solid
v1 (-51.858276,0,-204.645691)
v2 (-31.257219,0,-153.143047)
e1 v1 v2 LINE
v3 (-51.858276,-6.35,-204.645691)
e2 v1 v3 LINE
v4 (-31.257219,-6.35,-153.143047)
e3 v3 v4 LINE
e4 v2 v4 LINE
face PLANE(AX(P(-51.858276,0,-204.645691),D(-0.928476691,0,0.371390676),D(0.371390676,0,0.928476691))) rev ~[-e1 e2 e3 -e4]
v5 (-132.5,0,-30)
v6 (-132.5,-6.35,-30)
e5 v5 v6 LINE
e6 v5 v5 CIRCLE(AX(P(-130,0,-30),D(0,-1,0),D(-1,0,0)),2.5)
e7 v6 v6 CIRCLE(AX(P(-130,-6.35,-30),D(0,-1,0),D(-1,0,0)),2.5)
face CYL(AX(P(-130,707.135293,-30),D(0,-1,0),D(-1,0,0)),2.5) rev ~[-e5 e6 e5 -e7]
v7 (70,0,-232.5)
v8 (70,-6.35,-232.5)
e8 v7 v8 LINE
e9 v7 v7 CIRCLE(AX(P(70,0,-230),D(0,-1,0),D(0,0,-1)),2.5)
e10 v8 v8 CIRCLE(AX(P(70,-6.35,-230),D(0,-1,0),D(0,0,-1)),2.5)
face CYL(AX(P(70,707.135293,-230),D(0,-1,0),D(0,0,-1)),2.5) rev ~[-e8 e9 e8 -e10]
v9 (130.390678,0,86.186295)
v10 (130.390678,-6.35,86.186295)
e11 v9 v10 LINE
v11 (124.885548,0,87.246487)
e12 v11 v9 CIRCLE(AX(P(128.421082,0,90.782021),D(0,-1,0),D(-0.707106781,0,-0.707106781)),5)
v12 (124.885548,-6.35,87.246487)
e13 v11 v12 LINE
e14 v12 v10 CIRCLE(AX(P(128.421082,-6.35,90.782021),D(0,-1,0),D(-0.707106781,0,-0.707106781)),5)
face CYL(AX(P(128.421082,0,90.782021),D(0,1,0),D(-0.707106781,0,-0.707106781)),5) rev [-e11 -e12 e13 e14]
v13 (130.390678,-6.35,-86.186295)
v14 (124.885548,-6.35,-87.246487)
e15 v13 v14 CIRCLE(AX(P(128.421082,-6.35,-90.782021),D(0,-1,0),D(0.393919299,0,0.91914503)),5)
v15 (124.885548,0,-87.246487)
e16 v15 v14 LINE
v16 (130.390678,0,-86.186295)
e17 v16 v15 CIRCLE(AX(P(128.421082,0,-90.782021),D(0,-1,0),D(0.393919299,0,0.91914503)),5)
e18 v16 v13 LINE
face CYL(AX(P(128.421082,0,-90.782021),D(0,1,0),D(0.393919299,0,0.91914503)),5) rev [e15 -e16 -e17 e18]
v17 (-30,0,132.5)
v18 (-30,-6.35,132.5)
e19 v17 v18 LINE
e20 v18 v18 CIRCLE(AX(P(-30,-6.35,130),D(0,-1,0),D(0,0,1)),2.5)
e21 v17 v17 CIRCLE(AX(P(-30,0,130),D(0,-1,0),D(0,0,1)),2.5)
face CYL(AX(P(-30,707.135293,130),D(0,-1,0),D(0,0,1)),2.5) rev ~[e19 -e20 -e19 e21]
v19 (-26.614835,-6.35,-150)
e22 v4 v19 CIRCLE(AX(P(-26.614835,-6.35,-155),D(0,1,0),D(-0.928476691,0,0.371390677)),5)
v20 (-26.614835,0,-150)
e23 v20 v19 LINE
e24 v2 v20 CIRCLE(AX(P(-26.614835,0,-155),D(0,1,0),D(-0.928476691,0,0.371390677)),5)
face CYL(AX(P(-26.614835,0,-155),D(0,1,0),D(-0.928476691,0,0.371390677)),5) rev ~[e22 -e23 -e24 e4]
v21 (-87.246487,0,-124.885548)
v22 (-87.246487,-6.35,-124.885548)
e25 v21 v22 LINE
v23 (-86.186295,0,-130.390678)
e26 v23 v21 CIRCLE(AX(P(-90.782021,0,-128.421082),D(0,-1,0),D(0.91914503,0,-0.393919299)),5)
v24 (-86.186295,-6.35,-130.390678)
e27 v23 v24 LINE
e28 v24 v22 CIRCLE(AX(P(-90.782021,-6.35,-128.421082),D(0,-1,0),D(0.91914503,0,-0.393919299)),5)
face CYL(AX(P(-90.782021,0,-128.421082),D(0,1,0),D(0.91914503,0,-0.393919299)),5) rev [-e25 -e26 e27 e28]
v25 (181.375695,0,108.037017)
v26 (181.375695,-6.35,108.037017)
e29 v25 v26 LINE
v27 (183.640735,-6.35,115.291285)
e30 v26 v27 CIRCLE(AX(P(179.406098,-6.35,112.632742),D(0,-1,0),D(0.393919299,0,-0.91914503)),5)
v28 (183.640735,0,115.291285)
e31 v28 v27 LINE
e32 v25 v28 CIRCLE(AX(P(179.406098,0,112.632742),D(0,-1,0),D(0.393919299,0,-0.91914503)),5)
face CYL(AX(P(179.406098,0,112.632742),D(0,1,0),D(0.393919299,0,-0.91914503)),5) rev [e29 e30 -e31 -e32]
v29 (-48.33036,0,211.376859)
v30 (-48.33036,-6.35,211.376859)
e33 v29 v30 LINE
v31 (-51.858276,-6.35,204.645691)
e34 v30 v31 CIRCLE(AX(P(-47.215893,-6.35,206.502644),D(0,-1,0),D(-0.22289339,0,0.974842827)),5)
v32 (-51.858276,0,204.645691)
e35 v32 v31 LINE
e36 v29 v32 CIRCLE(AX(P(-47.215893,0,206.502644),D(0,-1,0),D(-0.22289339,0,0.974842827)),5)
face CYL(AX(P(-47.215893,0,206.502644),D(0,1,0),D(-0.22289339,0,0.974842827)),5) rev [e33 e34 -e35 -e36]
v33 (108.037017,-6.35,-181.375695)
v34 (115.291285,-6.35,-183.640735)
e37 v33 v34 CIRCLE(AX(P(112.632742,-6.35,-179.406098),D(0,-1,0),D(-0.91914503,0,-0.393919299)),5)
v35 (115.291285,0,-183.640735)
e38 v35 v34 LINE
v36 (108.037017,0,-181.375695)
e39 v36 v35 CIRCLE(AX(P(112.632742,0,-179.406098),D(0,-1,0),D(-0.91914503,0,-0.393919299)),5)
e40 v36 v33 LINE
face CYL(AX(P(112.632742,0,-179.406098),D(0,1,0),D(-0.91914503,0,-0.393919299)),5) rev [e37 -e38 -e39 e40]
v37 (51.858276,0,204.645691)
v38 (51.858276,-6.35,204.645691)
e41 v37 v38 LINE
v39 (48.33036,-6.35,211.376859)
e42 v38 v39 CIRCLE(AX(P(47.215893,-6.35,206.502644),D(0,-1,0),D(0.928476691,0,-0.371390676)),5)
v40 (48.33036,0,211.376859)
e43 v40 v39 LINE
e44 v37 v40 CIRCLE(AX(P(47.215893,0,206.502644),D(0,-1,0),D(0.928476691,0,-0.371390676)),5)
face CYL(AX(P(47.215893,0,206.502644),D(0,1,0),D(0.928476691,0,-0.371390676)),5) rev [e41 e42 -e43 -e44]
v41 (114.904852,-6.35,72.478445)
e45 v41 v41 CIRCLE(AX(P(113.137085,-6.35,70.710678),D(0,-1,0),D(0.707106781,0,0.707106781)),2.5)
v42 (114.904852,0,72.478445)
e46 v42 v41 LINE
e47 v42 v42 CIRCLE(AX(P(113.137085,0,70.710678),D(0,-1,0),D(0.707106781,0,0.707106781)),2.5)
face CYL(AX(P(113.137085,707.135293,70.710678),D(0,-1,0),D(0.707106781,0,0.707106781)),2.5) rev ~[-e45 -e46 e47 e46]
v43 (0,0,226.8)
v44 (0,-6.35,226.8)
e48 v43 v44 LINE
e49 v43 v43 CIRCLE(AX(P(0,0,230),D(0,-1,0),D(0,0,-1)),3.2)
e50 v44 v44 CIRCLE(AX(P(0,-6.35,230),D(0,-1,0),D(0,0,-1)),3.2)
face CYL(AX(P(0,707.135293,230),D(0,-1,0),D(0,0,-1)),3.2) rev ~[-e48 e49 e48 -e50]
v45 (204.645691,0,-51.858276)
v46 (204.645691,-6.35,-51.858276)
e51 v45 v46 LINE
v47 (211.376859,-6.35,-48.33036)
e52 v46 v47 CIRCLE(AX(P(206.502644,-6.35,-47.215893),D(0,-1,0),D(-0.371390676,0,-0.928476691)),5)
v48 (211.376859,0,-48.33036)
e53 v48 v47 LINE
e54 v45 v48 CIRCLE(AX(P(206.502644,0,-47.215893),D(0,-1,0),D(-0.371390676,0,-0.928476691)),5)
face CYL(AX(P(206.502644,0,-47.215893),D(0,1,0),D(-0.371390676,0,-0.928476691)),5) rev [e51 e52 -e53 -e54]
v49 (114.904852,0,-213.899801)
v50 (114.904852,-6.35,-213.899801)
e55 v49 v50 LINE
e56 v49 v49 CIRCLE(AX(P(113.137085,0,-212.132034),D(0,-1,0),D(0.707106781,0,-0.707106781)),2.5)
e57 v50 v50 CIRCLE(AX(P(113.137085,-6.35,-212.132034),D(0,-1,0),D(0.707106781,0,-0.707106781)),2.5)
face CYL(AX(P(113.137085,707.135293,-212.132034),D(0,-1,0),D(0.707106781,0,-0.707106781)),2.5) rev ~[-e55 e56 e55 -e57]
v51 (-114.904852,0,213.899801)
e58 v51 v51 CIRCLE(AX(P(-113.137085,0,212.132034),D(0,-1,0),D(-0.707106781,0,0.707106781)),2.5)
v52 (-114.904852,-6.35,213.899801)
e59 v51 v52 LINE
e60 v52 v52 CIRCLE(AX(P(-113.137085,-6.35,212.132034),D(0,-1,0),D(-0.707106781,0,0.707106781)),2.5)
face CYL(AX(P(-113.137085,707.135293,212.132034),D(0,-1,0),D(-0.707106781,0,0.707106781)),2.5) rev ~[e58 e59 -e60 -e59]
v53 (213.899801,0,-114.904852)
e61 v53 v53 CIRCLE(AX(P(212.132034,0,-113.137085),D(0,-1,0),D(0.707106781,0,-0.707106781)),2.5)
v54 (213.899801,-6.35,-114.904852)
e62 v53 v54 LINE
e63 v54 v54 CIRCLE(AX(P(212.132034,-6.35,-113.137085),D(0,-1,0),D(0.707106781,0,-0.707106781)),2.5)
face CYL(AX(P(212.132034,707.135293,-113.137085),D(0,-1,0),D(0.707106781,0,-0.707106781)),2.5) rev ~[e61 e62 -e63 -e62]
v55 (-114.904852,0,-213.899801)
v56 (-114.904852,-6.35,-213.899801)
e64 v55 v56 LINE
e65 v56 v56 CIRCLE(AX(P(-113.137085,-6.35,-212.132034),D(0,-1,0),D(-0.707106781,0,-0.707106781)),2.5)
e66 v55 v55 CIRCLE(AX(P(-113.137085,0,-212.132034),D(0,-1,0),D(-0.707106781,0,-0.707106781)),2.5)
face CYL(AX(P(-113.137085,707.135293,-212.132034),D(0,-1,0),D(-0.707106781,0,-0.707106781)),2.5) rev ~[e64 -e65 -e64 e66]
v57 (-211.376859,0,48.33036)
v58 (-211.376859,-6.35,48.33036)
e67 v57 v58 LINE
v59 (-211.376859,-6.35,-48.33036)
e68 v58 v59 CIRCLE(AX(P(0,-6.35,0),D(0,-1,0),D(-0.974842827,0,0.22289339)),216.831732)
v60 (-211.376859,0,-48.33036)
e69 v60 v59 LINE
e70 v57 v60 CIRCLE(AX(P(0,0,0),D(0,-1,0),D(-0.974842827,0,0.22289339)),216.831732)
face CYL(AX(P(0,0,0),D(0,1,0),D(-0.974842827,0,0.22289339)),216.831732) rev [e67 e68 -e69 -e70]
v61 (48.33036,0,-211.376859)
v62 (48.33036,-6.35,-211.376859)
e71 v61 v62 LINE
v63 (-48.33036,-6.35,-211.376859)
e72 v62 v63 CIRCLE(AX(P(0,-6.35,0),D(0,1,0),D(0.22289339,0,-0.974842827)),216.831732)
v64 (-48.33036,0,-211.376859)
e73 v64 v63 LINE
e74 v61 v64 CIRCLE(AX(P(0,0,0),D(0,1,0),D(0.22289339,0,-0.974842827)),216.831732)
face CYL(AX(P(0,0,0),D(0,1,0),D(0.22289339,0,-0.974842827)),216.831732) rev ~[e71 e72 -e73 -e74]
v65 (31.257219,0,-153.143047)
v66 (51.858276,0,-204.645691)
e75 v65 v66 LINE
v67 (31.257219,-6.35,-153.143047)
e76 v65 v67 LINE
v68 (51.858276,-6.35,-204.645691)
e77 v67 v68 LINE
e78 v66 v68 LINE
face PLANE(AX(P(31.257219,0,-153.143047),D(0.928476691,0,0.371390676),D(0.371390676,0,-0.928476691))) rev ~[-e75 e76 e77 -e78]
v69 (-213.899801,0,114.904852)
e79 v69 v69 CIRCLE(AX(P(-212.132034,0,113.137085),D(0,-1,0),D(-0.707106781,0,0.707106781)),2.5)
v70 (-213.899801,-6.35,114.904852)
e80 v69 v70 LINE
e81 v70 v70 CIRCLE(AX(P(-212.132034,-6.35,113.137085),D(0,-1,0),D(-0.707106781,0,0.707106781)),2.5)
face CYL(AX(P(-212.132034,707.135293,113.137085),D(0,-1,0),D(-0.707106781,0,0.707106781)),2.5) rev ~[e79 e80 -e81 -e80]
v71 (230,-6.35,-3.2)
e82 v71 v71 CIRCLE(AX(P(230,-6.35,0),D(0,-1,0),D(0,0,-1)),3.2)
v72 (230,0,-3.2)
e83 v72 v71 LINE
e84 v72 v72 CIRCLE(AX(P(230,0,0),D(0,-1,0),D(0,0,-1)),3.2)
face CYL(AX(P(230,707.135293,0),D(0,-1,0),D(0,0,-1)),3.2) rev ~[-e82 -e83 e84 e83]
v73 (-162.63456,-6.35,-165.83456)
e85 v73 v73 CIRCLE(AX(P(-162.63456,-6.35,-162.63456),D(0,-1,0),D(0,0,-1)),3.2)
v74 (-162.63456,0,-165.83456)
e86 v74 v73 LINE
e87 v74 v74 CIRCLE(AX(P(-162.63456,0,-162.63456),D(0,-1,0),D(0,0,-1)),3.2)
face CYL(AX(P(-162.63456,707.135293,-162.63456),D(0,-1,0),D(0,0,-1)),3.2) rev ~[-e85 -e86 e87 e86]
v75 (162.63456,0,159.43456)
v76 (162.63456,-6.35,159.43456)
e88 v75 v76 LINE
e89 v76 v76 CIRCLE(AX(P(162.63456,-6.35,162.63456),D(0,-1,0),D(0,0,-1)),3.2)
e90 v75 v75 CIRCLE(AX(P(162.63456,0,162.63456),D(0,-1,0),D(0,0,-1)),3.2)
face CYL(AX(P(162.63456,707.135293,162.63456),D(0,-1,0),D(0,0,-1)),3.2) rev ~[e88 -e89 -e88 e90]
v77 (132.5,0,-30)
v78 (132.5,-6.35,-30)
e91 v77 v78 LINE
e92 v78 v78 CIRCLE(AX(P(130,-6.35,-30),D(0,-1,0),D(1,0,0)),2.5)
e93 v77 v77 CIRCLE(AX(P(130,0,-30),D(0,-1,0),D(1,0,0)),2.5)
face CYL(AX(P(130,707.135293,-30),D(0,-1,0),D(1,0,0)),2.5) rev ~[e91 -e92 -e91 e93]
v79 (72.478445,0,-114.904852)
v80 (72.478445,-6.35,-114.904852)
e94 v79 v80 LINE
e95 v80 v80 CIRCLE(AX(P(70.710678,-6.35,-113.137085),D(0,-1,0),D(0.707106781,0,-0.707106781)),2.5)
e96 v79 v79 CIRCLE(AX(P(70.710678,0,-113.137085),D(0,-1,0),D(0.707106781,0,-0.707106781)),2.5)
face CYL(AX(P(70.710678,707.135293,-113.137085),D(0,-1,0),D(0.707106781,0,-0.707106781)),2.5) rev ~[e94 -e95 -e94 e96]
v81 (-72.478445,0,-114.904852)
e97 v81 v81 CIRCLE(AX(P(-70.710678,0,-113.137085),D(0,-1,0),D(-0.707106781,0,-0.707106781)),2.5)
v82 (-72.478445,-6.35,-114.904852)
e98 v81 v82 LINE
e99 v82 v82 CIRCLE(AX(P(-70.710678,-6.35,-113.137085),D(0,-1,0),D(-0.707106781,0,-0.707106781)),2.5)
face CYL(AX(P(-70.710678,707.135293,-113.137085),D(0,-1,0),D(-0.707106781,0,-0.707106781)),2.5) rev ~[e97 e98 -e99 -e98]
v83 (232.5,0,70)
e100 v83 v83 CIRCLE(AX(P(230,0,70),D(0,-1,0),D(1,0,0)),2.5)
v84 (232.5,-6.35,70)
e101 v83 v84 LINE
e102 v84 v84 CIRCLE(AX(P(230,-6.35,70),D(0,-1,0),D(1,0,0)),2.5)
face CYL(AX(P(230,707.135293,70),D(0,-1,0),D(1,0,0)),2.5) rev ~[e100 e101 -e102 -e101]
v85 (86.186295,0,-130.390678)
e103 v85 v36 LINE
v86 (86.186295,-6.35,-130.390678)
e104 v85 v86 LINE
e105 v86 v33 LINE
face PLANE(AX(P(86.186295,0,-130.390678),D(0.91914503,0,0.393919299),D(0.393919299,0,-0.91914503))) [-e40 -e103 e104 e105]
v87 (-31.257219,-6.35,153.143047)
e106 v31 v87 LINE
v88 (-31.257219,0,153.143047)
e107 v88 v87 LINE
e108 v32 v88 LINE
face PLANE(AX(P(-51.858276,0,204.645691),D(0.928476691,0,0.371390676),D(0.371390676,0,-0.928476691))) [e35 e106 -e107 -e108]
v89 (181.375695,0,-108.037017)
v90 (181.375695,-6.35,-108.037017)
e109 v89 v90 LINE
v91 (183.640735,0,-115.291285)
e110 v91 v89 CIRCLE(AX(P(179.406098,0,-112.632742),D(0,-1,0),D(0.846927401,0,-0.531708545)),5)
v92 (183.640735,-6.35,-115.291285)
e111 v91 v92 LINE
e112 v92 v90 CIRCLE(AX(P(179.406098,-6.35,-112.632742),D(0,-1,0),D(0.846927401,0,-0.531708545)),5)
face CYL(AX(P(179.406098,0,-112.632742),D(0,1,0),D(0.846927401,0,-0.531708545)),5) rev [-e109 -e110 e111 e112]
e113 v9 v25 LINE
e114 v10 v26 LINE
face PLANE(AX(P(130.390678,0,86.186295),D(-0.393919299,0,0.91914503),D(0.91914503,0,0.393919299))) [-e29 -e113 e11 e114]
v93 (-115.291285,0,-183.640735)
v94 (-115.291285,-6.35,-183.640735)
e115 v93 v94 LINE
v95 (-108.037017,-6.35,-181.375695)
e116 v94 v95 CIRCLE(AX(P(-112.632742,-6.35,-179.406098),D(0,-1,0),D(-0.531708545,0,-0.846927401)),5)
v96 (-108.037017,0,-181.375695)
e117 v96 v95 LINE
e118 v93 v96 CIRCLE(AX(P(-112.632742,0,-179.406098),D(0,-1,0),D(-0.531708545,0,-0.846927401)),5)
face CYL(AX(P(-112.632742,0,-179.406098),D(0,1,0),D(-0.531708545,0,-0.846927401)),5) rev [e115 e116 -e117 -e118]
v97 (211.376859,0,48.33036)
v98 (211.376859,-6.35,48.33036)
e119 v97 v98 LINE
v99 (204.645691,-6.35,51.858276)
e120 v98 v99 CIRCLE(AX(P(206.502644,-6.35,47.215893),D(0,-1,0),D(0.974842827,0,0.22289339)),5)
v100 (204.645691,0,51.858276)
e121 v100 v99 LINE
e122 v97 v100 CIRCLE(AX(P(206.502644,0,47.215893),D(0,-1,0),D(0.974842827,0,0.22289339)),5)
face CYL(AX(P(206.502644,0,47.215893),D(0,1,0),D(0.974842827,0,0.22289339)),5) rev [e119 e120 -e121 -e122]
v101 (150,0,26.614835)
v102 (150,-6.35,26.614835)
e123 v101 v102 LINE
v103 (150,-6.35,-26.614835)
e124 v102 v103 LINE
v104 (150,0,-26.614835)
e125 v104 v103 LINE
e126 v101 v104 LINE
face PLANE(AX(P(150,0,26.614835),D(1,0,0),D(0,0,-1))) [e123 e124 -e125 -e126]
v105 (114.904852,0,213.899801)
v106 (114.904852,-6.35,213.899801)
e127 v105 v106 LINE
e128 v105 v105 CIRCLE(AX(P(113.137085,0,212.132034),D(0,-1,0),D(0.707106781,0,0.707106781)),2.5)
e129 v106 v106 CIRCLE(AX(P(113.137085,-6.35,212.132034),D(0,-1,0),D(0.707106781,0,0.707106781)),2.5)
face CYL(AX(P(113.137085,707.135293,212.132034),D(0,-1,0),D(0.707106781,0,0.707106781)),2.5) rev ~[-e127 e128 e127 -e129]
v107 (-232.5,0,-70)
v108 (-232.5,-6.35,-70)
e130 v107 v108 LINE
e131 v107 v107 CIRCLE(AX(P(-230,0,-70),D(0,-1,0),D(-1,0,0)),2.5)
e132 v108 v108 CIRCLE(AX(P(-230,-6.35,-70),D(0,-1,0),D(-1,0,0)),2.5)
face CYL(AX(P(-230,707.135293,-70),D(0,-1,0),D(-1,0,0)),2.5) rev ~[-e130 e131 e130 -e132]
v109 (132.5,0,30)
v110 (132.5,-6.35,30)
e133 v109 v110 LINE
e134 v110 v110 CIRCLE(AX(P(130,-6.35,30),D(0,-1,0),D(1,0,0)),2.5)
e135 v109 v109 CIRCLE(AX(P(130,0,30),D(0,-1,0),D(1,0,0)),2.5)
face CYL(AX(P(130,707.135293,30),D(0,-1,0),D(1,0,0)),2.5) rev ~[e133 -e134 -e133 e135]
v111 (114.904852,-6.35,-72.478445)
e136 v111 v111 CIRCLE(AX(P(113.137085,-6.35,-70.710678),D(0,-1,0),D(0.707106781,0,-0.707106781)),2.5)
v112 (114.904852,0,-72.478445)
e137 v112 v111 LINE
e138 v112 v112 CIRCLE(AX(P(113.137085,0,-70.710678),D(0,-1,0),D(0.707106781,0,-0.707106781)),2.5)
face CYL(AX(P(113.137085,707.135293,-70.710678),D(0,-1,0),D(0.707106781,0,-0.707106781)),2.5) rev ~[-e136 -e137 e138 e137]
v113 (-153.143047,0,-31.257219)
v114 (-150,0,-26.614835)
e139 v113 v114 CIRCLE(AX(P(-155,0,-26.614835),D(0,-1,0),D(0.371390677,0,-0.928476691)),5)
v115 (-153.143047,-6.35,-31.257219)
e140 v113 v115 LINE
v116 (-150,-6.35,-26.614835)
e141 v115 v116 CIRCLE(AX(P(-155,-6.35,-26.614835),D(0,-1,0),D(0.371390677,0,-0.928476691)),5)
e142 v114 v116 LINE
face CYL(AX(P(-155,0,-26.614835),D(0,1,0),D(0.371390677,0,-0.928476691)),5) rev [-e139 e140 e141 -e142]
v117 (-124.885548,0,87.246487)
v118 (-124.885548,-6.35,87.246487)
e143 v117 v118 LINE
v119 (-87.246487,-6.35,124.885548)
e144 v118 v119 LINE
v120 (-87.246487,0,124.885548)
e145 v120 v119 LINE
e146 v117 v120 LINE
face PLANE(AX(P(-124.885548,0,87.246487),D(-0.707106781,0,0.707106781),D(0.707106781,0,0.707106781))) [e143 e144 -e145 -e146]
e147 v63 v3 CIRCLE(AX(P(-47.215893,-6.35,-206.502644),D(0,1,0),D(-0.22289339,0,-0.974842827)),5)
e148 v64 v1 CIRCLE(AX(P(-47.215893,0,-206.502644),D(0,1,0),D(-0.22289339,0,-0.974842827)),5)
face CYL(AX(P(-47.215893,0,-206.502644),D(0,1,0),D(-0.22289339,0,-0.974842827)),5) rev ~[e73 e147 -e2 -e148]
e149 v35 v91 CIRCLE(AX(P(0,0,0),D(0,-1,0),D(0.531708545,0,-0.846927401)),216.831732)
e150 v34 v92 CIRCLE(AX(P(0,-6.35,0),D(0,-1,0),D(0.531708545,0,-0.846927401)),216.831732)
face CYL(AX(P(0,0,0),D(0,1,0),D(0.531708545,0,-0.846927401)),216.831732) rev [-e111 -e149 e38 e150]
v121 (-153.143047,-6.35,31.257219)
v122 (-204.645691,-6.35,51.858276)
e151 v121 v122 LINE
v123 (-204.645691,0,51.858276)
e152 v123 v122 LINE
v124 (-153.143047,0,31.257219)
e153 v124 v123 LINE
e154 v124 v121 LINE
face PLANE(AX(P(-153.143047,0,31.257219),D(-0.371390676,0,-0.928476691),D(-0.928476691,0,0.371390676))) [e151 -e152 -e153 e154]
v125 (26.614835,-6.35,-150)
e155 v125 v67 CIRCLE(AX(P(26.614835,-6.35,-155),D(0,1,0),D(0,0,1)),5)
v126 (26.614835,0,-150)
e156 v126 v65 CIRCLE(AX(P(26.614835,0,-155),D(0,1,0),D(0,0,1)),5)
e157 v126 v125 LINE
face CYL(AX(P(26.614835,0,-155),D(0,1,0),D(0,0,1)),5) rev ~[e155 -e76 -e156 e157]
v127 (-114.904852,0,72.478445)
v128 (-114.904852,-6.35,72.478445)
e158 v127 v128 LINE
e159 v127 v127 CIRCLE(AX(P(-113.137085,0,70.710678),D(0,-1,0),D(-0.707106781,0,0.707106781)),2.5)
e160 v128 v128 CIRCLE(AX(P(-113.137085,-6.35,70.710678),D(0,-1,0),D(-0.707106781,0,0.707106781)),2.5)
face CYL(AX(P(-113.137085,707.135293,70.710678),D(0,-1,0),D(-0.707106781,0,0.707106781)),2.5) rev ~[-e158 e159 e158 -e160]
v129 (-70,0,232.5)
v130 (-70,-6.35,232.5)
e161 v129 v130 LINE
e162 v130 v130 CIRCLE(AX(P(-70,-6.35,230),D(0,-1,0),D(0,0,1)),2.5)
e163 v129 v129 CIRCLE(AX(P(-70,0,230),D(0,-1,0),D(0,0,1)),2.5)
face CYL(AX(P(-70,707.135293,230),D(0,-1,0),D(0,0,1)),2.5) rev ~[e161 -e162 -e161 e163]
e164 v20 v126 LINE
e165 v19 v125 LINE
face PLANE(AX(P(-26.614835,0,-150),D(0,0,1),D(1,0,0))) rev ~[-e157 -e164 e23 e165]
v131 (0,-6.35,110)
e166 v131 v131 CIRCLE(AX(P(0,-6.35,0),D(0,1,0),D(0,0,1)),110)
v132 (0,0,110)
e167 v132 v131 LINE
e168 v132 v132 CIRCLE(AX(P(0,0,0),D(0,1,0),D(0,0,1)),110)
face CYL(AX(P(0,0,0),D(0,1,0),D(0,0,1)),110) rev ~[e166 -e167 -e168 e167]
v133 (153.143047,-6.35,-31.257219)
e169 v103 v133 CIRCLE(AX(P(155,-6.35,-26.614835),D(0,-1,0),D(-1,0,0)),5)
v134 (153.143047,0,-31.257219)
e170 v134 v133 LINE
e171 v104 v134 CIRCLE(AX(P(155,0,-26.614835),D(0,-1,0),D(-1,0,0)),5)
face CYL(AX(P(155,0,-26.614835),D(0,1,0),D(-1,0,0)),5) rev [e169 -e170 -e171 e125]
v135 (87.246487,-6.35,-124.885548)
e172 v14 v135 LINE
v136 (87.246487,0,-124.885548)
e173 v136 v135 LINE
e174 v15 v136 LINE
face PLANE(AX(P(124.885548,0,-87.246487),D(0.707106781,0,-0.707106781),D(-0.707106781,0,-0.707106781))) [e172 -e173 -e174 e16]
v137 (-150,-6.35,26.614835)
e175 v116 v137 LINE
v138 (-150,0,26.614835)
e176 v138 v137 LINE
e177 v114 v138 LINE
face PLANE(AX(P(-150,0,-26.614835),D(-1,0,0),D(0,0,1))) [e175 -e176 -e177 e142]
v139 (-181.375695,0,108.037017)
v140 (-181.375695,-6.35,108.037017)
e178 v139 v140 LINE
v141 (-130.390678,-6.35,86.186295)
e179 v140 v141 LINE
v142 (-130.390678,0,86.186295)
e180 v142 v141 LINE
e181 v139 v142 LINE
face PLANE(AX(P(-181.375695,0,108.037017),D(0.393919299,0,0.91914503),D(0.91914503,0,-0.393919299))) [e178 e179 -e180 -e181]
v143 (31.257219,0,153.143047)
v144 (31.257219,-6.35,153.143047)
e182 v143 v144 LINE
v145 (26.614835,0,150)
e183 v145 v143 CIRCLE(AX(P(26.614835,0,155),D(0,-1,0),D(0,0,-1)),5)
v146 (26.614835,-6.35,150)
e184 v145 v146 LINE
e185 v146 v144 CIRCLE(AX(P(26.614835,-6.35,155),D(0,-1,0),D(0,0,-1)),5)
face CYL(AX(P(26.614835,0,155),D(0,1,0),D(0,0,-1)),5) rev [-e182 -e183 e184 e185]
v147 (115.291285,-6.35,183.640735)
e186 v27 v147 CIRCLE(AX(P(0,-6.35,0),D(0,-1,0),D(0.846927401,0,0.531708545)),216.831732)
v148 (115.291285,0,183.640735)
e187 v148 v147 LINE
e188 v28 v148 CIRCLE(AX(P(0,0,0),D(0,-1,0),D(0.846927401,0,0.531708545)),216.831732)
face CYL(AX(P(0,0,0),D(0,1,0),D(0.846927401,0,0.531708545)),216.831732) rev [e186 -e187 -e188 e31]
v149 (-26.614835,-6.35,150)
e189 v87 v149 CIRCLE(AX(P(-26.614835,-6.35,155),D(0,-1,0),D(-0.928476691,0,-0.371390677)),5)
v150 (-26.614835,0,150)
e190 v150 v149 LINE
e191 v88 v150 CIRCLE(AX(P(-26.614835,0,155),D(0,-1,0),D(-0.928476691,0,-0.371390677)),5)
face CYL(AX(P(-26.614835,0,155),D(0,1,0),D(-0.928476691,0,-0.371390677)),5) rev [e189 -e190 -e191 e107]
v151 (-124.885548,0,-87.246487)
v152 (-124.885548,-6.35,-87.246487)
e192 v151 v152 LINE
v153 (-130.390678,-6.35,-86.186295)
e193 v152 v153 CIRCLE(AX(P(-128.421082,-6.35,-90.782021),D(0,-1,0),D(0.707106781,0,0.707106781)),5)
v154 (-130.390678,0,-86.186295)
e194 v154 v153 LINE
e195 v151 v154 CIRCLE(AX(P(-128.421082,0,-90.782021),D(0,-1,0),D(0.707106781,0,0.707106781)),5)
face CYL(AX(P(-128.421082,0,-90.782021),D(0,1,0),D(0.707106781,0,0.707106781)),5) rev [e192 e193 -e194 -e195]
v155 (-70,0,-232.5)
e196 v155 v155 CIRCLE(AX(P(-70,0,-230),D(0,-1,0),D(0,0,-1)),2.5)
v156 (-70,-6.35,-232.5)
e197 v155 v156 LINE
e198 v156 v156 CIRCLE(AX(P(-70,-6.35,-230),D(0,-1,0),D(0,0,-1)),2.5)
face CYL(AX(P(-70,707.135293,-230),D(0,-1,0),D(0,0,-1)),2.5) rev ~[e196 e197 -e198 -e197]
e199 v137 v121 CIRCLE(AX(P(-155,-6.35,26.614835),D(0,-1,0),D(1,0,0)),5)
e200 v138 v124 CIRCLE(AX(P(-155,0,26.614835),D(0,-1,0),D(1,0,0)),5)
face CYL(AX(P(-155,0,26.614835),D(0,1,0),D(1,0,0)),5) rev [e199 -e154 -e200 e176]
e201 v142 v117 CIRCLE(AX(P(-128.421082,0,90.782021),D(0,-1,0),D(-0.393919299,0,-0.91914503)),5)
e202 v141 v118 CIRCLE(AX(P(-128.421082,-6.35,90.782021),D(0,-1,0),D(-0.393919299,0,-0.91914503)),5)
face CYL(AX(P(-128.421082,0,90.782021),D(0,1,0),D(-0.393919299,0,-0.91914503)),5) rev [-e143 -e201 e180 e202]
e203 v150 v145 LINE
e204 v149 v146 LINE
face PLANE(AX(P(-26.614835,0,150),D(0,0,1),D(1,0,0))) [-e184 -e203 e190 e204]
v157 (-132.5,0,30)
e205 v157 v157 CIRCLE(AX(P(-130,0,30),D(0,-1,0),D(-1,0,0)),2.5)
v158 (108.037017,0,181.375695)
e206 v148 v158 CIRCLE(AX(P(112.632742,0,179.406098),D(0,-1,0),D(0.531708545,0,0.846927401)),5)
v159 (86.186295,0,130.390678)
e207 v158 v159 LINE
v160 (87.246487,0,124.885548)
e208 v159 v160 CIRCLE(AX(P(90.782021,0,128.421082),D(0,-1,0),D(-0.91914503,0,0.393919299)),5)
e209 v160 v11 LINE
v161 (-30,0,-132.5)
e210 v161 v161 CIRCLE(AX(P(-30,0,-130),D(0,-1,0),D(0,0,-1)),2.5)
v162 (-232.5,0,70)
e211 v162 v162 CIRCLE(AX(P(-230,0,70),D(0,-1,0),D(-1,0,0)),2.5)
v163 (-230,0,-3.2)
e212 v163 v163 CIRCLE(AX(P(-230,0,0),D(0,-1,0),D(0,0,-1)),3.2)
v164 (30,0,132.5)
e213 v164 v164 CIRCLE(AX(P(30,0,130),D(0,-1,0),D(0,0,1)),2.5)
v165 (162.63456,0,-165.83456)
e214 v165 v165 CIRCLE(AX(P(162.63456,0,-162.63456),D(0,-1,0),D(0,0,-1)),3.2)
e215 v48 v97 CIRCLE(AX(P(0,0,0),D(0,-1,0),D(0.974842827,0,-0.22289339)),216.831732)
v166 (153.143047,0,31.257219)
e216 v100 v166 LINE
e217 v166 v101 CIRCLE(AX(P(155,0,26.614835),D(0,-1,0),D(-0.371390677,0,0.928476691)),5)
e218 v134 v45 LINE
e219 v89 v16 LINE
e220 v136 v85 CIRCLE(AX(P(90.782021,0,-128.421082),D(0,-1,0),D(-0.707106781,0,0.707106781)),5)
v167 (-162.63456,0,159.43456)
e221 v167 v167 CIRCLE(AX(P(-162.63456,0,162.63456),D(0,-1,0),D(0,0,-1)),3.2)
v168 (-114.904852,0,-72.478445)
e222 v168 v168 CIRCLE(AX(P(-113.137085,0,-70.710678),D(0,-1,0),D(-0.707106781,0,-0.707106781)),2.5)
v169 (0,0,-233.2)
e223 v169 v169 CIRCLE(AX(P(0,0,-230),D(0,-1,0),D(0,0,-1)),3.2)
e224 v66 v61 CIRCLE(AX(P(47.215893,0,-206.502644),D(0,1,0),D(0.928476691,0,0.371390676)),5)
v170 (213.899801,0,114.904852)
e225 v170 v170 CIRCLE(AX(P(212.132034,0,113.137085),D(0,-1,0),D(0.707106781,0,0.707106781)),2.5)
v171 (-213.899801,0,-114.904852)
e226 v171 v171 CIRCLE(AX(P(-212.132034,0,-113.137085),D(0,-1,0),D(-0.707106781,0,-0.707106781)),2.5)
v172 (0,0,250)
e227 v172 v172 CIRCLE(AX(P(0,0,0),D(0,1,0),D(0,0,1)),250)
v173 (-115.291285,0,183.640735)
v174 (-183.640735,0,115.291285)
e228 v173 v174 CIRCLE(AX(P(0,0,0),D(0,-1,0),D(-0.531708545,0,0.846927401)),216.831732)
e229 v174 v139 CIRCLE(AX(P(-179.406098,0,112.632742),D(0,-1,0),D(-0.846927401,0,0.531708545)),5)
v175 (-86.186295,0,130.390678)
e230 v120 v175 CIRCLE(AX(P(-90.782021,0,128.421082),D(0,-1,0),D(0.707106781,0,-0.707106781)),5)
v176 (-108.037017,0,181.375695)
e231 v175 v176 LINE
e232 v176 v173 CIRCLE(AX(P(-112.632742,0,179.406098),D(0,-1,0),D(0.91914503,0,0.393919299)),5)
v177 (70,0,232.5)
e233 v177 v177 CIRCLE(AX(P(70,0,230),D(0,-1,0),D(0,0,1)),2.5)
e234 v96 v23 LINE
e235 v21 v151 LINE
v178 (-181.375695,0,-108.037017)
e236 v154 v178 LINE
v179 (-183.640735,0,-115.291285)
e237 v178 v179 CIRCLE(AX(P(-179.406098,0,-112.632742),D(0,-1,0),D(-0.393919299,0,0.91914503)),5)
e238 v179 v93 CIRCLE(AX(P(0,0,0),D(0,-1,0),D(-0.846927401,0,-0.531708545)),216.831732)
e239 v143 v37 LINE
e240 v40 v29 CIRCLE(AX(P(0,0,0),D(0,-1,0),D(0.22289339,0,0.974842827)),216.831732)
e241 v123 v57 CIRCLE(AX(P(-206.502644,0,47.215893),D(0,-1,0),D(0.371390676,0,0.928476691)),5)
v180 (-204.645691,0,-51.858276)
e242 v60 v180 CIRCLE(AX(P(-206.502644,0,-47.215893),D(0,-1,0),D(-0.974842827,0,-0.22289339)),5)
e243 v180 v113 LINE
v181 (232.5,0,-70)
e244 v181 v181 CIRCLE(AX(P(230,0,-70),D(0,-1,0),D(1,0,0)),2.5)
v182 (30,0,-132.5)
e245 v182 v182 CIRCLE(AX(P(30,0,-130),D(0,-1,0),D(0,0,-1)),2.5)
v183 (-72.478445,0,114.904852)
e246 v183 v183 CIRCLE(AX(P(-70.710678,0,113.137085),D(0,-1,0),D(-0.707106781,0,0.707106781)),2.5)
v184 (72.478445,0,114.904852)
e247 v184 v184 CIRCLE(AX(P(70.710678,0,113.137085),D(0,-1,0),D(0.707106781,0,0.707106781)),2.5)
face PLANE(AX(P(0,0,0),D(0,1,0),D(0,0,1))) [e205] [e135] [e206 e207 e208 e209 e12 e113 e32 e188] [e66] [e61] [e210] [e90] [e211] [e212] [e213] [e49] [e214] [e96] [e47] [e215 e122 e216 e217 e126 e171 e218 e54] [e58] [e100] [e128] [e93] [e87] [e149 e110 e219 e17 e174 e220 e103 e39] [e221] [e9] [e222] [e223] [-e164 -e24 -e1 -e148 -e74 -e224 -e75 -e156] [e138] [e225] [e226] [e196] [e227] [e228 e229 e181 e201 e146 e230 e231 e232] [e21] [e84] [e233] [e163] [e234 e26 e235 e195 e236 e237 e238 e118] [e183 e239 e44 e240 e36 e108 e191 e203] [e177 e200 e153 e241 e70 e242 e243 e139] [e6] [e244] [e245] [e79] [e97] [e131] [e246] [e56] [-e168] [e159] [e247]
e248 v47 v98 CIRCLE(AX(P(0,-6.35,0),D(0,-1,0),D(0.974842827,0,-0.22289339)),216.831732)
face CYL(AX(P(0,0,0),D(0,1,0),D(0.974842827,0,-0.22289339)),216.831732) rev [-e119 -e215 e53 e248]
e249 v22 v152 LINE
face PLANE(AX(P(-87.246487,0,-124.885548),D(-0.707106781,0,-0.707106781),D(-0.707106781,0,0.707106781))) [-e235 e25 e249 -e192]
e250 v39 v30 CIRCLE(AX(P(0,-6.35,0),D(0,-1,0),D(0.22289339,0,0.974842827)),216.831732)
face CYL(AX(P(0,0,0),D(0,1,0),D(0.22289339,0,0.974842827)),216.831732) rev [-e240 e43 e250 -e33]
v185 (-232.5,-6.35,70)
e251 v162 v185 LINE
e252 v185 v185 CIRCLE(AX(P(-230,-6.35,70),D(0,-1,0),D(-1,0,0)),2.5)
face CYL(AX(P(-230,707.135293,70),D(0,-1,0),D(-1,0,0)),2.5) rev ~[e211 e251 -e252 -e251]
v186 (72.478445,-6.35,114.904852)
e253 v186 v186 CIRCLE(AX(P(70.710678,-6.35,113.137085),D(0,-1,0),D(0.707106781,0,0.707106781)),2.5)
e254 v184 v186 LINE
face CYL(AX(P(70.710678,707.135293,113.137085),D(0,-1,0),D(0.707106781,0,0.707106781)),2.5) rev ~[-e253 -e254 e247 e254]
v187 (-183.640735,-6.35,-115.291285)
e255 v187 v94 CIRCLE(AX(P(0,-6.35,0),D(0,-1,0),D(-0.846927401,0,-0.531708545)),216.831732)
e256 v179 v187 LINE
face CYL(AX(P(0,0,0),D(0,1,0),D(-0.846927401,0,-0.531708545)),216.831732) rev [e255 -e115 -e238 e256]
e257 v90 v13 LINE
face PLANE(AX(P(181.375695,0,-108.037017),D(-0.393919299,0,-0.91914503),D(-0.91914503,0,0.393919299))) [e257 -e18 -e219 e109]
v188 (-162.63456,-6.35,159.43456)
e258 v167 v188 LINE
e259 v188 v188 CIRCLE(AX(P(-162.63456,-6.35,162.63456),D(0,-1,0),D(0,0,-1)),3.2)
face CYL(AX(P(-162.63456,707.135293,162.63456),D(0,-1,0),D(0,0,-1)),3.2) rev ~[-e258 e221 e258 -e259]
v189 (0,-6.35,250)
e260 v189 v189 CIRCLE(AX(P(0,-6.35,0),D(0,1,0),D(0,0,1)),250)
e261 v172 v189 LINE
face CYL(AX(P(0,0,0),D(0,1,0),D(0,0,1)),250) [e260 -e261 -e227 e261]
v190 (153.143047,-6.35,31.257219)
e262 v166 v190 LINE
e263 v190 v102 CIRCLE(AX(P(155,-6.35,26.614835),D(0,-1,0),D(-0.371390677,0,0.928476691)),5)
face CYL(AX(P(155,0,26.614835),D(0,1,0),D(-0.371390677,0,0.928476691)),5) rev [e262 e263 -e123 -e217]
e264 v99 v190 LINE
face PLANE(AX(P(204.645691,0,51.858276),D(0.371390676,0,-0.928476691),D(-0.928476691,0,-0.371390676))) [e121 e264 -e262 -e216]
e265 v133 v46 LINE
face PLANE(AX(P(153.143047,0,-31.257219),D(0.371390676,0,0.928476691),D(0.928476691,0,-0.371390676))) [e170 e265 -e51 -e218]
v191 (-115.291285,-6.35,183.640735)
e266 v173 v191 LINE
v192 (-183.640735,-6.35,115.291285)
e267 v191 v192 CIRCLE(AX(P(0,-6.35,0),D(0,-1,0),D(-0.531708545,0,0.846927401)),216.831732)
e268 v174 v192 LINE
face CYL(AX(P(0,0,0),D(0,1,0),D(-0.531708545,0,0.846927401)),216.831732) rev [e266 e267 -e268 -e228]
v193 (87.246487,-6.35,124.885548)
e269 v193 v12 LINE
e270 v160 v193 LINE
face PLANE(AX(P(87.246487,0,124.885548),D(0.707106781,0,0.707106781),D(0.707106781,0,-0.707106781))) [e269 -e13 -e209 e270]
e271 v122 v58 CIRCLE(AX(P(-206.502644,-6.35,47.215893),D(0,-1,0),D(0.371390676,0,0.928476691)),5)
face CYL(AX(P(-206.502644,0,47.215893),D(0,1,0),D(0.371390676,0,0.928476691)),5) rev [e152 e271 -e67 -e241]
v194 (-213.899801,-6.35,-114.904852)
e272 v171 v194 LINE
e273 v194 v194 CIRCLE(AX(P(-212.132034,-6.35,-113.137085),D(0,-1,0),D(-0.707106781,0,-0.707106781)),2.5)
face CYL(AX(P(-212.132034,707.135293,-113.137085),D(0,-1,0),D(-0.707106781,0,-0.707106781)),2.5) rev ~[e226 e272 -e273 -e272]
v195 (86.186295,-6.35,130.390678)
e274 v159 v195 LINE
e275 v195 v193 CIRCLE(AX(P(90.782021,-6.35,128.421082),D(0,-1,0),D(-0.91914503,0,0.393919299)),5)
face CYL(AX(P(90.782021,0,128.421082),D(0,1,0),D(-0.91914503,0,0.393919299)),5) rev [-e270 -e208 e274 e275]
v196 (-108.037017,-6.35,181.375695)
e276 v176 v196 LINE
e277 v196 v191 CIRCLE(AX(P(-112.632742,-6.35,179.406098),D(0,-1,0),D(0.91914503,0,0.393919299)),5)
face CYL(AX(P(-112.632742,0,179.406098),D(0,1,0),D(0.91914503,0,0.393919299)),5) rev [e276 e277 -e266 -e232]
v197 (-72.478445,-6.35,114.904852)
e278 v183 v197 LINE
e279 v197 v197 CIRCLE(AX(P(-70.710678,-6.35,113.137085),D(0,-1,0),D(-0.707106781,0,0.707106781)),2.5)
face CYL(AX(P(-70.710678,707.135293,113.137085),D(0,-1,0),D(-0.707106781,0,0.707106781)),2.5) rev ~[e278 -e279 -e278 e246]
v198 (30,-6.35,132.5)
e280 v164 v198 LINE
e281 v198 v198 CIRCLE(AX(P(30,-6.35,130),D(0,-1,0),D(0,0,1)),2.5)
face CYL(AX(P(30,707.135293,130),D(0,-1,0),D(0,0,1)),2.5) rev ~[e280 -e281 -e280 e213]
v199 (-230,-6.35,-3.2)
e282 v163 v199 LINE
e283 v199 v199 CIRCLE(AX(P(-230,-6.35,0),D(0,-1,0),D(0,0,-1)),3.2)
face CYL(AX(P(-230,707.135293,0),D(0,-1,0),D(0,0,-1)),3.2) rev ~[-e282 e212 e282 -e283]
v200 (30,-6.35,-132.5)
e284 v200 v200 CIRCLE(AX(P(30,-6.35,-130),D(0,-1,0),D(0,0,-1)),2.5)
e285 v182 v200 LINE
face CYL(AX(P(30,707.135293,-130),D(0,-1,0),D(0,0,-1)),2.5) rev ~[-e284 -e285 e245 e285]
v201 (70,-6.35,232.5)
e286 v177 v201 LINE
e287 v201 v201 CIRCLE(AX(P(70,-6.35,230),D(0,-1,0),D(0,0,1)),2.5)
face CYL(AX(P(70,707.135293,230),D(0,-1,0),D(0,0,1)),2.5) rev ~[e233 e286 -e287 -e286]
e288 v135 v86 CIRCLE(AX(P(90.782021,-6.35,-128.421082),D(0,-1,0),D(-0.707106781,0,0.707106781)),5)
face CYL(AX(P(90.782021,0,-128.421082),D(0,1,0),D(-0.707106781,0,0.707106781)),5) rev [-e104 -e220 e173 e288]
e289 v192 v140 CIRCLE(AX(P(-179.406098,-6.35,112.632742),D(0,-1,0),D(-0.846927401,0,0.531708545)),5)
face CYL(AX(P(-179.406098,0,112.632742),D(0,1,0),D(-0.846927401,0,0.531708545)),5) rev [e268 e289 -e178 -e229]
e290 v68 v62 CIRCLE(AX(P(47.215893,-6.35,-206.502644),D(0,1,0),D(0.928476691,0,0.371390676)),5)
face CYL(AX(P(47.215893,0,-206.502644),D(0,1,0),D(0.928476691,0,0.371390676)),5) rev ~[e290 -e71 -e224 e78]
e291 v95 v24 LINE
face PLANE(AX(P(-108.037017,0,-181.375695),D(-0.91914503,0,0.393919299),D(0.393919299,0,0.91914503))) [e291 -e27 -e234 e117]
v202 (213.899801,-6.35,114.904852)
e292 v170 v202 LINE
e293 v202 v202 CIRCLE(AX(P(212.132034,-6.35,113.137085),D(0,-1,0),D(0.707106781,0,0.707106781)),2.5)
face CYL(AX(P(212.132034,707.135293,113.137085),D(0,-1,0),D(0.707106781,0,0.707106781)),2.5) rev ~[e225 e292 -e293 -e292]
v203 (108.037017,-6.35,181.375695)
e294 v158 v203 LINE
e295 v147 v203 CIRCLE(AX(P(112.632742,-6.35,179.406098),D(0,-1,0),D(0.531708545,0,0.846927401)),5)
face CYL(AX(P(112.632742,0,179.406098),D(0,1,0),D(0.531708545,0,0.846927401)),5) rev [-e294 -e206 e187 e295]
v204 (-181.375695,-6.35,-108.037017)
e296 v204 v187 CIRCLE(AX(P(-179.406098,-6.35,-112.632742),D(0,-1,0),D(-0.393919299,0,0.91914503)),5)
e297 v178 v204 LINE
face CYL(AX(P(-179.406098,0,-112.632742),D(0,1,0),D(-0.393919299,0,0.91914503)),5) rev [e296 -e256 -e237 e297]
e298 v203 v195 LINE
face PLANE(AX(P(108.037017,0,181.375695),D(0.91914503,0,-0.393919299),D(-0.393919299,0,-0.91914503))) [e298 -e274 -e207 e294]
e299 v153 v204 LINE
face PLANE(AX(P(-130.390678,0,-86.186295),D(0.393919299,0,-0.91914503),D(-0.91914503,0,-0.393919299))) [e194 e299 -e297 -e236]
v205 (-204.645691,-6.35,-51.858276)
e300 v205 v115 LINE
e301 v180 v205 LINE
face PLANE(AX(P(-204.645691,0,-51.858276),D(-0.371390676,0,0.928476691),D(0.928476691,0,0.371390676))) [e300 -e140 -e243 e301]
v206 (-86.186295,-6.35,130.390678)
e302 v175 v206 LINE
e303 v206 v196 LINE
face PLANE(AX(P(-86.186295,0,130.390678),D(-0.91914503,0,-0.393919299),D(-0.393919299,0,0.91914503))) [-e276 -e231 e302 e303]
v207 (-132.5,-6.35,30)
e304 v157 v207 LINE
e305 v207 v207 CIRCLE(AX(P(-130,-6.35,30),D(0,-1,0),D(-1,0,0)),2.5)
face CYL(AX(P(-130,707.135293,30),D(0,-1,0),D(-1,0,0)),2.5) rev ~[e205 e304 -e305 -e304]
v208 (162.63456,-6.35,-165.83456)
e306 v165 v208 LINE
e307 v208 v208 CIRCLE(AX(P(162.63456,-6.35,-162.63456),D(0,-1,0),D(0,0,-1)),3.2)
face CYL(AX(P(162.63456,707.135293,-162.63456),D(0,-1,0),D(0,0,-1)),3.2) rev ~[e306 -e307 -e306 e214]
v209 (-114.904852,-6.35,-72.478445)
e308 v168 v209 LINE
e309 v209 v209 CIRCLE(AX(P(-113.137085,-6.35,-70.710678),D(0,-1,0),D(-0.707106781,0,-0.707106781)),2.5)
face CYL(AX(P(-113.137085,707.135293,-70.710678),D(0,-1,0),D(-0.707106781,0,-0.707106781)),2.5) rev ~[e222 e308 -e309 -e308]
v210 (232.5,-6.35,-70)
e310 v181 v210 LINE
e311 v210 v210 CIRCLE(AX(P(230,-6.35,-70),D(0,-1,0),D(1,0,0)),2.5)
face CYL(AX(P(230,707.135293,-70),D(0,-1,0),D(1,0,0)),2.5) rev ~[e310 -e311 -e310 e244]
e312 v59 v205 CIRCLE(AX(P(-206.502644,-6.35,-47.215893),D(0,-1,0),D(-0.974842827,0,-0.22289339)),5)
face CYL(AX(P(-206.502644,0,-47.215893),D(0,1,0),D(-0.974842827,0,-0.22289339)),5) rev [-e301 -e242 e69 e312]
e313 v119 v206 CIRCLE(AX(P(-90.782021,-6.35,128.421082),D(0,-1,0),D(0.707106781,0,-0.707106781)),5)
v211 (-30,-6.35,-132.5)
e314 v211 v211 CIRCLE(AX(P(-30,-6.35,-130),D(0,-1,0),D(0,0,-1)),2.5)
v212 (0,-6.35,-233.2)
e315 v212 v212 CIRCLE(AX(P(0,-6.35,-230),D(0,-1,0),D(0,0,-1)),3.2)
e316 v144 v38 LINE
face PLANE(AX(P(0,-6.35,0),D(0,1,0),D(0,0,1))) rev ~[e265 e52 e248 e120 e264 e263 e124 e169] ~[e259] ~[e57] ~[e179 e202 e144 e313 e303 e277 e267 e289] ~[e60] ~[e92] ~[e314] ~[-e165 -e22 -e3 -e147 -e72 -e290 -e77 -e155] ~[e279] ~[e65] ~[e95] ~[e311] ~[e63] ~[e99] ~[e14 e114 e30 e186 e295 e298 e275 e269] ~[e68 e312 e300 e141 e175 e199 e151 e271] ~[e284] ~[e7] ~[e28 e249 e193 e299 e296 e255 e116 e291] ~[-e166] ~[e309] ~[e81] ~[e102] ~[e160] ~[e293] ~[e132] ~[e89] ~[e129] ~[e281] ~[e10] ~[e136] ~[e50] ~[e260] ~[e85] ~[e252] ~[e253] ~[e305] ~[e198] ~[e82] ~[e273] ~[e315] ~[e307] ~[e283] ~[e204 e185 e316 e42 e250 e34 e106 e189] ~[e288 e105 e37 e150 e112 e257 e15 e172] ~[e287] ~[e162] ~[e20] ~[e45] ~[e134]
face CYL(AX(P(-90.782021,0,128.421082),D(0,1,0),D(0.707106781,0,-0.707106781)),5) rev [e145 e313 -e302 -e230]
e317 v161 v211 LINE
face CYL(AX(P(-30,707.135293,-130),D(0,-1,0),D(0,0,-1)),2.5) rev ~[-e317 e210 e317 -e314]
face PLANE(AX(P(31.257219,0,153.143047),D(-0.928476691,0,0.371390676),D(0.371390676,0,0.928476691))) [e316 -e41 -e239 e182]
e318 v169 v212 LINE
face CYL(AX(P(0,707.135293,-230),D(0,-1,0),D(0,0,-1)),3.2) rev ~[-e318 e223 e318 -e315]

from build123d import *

# Parameters (mm, degrees)
SKETCH1_R                   = 250
SKETCH1_R_2                 = 110
BOSS_EXTRUDE1_DEPTH         = 6.35
M6_CLEARANCE_HOLE1_D        = 6.4
TAP_DRILL_FOR_M6X1_0_TAP2_D = 5
CIRPATTERN1_COUNT           = 8


with BuildPart() as part:
    # Sketch1 → Boss-Extrude1 (new body)
    with BuildSketch(Plane(origin=(0, 0, 0), x_dir=(1, 0, 0), z_dir=(0, 1, 0))):
        with Locations(Location((0, 0, 0), (0, 0, 270))):
            Circle(SKETCH1_R)
        with Locations(Location((0, 0, 0), (0, 0, 270))):
            Circle(SKETCH1_R_2, mode=Mode.SUBTRACT)
        with BuildLine():
            Line((-26.614835193, 150), (26.614835193, 150))
            ThreePointArc((26.614835193, 150), (29.417979239, 150.859663848), (31.257218647, 153.143046618))
            Line((31.257218647, 153.143046618), (51.858276397, 204.645690993))
            ThreePointArc((51.858276397, 204.645690993), (51.644491556, 208.823746337), (48.330359895, 211.376858507))
            ThreePointArc((48.330359895, 211.376858507), (0, 216.831731995), (-48.330359895, 211.376858507))
            ThreePointArc((-48.330359895, 211.376858507), (-51.644491556, 208.823746337), (-51.858276397, 204.645690993))
            Line((-51.858276397, 204.645690993), (-31.257218647, 153.143046618))
            ThreePointArc((-31.257218647, 153.143046618), (-29.417979239, 150.859663848), (-26.614835193, 150))
        make_face(mode=Mode.SUBTRACT)
        with BuildLine():
            Line((86.186295489, 130.390678022), (108.037016941, 181.375694743))
            ThreePointArc((108.037016941, 181.375694743), (111.142516918, 184.178857298), (115.291284818, 183.640735255))
            ThreePointArc((115.291284818, 183.640735255), (153.32318807, 153.32318807), (183.640735255, 115.291284818))
            ThreePointArc((183.640735255, 115.291284818), (184.178857298, 111.142516918), (181.375694743, 108.037016941))
            Line((181.375694743, 108.037016941), (130.390678022, 86.186295489))
            ThreePointArc((130.390678022, 86.186295489), (127.475543923, 85.872238705), (124.885547623, 87.246486733))
            Line((124.885547623, 87.246486733), (87.246486733, 124.885547623))
            ThreePointArc((87.246486733, 124.885547623), (85.872238705, 127.475543923), (86.186295489, 130.390678022))
        make_face(mode=Mode.SUBTRACT)
        with BuildLine():
            Line((153.143046618, 31.257218647), (204.645690993, 51.858276397))
            ThreePointArc((204.645690993, 51.858276397), (208.823746337, 51.644491556), (211.376858507, 48.330359895))
            ThreePointArc((211.376858507, 48.330359895), (216.831731995, 0), (211.376858507, -48.330359895))
            ThreePointArc((211.376858507, -48.330359895), (208.823746337, -51.644491556), (204.645690993, -51.858276397))
            Line((204.645690993, -51.858276397), (153.143046618, -31.257218647))
            ThreePointArc((153.143046618, -31.257218647), (150.859663848, -29.417979239), (150, -26.614835193))
            Line((150, -26.614835193), (150, 26.614835193))
            ThreePointArc((150, 26.614835193), (150.859663848, 29.417979239), (153.143046618, 31.257218647))
        make_face(mode=Mode.SUBTRACT)
        with BuildLine():
            Line((130.390678022, -86.186295489), (181.375694743, -108.037016941))
            ThreePointArc((181.375694743, -108.037016941), (184.178857298, -111.142516918), (183.640735255, -115.291284818))
            ThreePointArc((183.640735255, -115.291284818), (153.32318807, -153.32318807), (115.291284818, -183.640735255))
            ThreePointArc((115.291284818, -183.640735255), (111.142516918, -184.178857298), (108.037016941, -181.375694743))
            Line((108.037016941, -181.375694743), (86.186295489, -130.390678022))
            ThreePointArc((86.186295489, -130.390678022), (85.872238705, -127.475543923), (87.246486733, -124.885547623))
            Line((87.246486733, -124.885547623), (124.885547623, -87.246486733))
            ThreePointArc((124.885547623, -87.246486733), (127.475543923, -85.872238705), (130.390678022, -86.186295489))
        make_face(mode=Mode.SUBTRACT)
        with BuildLine():
            Line((31.257218647, -153.143046618), (51.858276397, -204.645690993))
            ThreePointArc((51.858276397, -204.645690993), (51.644491556, -208.823746337), (48.330359895, -211.376858507))
            ThreePointArc((48.330359895, -211.376858507), (0, -216.831731995), (-48.330359895, -211.376858507))
            ThreePointArc((-48.330359895, -211.376858507), (-51.644491556, -208.823746337), (-51.858276397, -204.645690993))
            Line((-51.858276397, -204.645690993), (-31.257218647, -153.143046618))
            ThreePointArc((-31.257218647, -153.143046618), (-29.417979239, -150.859663848), (-26.614835193, -150))
            Line((-26.614835193, -150), (26.614835193, -150))
            ThreePointArc((26.614835193, -150), (29.417979239, -150.859663848), (31.257218647, -153.143046618))
        make_face(mode=Mode.SUBTRACT)
        with BuildLine():
            Line((-86.186295489, -130.390678022), (-108.037016941, -181.375694743))
            ThreePointArc((-108.037016941, -181.375694743), (-111.142516918, -184.178857298), (-115.291284818, -183.640735255))
            ThreePointArc((-115.291284818, -183.640735255), (-153.32318807, -153.32318807), (-183.640735255, -115.291284818))
            ThreePointArc((-183.640735255, -115.291284818), (-184.178857298, -111.142516918), (-181.375694743, -108.037016941))
            Line((-181.375694743, -108.037016941), (-130.390678022, -86.186295489))
            ThreePointArc((-130.390678022, -86.186295489), (-127.475543923, -85.872238705), (-124.885547623, -87.246486733))
            Line((-124.885547623, -87.246486733), (-87.246486733, -124.885547623))
            ThreePointArc((-87.246486733, -124.885547623), (-85.872238705, -127.475543923), (-86.186295489, -130.390678022))
        make_face(mode=Mode.SUBTRACT)
        with BuildLine():
            Line((-153.143046618, -31.257218647), (-204.645690993, -51.858276397))
            ThreePointArc((-204.645690993, -51.858276397), (-208.823746337, -51.644491556), (-211.376858507, -48.330359895))
            ThreePointArc((-211.376858507, -48.330359895), (-216.831731995, 0), (-211.376858507, 48.330359895))
            ThreePointArc((-211.376858507, 48.330359895), (-208.823746337, 51.644491556), (-204.645690993, 51.858276397))
            Line((-204.645690993, 51.858276397), (-153.143046618, 31.257218647))
            ThreePointArc((-153.143046618, 31.257218647), (-150.859663848, 29.417979239), (-150, 26.614835193))
            Line((-150, 26.614835193), (-150, -26.614835193))
            ThreePointArc((-150, -26.614835193), (-150.859663848, -29.417979239), (-153.143046618, -31.257218647))
        make_face(mode=Mode.SUBTRACT)
        with BuildLine():
            Line((-130.390678022, 86.186295489), (-181.375694743, 108.037016941))
            ThreePointArc((-181.375694743, 108.037016941), (-184.178857298, 111.142516918), (-183.640735255, 115.291284818))
            ThreePointArc((-183.640735255, 115.291284818), (-153.32318807, 153.32318807), (-115.291284818, 183.640735255))
            ThreePointArc((-115.291284818, 183.640735255), (-111.142516918, 184.178857298), (-108.037016941, 181.375694743))
            Line((-108.037016941, 181.375694743), (-86.186295489, 130.390678022))
            ThreePointArc((-86.186295489, 130.390678022), (-85.872238705, 127.475543923), (-87.246486733, 124.885547623))
            Line((-87.246486733, 124.885547623), (-124.885547623, 87.246486733))
            ThreePointArc((-124.885547623, 87.246486733), (-127.475543923, 85.872238705), (-130.390678022, 86.186295489))
        make_face(mode=Mode.SUBTRACT)
    extrude(amount=-BOSS_EXTRUDE1_DEPTH)

    # M6 Clearance Hole1 (through all)
    with Locations(Plane(origin=(0, 0, -230), x_dir=(0, 0, 1), z_dir=(0, 1, 0))):
        with Locations((0, 0), (67.365440327, -162.634559673), (230, -230), (67.365440327, 162.634559673), (230, 230), (392.634559673, 162.634559673), (460, 0), (392.634559673, -162.634559673)):
            Hole(M6_CLEARANCE_HOLE1_D / 2)

    # Tap Drill for M6x1.0 Tap2 (through all)
    with Locations(Plane(origin=(-70, 0, -230), x_dir=(0, 0, 1), z_dir=(0, 1, 0))):
        with Locations((0, 0), (0, 140), (100, 100), (100, 40)):
            tap_drill_for_m6x1_0_tap2 = Hole(TAP_DRILL_FOR_M6X1_0_TAP2_D / 2)

    # CirPattern1: Tap Drill for M6x1.0 Tap2 ×8 about axis
    cirpattern1_axis = Axis((0, 0, 0), (0, 1, 0))
    for i in range(1, CIRPATTERN1_COUNT):
        add(tap_drill_for_m6x1_0_tap2.rotate(cirpattern1_axis, i * 360 / CIRPATTERN1_COUNT), mode=Mode.SUBTRACT)


solid = part.part
